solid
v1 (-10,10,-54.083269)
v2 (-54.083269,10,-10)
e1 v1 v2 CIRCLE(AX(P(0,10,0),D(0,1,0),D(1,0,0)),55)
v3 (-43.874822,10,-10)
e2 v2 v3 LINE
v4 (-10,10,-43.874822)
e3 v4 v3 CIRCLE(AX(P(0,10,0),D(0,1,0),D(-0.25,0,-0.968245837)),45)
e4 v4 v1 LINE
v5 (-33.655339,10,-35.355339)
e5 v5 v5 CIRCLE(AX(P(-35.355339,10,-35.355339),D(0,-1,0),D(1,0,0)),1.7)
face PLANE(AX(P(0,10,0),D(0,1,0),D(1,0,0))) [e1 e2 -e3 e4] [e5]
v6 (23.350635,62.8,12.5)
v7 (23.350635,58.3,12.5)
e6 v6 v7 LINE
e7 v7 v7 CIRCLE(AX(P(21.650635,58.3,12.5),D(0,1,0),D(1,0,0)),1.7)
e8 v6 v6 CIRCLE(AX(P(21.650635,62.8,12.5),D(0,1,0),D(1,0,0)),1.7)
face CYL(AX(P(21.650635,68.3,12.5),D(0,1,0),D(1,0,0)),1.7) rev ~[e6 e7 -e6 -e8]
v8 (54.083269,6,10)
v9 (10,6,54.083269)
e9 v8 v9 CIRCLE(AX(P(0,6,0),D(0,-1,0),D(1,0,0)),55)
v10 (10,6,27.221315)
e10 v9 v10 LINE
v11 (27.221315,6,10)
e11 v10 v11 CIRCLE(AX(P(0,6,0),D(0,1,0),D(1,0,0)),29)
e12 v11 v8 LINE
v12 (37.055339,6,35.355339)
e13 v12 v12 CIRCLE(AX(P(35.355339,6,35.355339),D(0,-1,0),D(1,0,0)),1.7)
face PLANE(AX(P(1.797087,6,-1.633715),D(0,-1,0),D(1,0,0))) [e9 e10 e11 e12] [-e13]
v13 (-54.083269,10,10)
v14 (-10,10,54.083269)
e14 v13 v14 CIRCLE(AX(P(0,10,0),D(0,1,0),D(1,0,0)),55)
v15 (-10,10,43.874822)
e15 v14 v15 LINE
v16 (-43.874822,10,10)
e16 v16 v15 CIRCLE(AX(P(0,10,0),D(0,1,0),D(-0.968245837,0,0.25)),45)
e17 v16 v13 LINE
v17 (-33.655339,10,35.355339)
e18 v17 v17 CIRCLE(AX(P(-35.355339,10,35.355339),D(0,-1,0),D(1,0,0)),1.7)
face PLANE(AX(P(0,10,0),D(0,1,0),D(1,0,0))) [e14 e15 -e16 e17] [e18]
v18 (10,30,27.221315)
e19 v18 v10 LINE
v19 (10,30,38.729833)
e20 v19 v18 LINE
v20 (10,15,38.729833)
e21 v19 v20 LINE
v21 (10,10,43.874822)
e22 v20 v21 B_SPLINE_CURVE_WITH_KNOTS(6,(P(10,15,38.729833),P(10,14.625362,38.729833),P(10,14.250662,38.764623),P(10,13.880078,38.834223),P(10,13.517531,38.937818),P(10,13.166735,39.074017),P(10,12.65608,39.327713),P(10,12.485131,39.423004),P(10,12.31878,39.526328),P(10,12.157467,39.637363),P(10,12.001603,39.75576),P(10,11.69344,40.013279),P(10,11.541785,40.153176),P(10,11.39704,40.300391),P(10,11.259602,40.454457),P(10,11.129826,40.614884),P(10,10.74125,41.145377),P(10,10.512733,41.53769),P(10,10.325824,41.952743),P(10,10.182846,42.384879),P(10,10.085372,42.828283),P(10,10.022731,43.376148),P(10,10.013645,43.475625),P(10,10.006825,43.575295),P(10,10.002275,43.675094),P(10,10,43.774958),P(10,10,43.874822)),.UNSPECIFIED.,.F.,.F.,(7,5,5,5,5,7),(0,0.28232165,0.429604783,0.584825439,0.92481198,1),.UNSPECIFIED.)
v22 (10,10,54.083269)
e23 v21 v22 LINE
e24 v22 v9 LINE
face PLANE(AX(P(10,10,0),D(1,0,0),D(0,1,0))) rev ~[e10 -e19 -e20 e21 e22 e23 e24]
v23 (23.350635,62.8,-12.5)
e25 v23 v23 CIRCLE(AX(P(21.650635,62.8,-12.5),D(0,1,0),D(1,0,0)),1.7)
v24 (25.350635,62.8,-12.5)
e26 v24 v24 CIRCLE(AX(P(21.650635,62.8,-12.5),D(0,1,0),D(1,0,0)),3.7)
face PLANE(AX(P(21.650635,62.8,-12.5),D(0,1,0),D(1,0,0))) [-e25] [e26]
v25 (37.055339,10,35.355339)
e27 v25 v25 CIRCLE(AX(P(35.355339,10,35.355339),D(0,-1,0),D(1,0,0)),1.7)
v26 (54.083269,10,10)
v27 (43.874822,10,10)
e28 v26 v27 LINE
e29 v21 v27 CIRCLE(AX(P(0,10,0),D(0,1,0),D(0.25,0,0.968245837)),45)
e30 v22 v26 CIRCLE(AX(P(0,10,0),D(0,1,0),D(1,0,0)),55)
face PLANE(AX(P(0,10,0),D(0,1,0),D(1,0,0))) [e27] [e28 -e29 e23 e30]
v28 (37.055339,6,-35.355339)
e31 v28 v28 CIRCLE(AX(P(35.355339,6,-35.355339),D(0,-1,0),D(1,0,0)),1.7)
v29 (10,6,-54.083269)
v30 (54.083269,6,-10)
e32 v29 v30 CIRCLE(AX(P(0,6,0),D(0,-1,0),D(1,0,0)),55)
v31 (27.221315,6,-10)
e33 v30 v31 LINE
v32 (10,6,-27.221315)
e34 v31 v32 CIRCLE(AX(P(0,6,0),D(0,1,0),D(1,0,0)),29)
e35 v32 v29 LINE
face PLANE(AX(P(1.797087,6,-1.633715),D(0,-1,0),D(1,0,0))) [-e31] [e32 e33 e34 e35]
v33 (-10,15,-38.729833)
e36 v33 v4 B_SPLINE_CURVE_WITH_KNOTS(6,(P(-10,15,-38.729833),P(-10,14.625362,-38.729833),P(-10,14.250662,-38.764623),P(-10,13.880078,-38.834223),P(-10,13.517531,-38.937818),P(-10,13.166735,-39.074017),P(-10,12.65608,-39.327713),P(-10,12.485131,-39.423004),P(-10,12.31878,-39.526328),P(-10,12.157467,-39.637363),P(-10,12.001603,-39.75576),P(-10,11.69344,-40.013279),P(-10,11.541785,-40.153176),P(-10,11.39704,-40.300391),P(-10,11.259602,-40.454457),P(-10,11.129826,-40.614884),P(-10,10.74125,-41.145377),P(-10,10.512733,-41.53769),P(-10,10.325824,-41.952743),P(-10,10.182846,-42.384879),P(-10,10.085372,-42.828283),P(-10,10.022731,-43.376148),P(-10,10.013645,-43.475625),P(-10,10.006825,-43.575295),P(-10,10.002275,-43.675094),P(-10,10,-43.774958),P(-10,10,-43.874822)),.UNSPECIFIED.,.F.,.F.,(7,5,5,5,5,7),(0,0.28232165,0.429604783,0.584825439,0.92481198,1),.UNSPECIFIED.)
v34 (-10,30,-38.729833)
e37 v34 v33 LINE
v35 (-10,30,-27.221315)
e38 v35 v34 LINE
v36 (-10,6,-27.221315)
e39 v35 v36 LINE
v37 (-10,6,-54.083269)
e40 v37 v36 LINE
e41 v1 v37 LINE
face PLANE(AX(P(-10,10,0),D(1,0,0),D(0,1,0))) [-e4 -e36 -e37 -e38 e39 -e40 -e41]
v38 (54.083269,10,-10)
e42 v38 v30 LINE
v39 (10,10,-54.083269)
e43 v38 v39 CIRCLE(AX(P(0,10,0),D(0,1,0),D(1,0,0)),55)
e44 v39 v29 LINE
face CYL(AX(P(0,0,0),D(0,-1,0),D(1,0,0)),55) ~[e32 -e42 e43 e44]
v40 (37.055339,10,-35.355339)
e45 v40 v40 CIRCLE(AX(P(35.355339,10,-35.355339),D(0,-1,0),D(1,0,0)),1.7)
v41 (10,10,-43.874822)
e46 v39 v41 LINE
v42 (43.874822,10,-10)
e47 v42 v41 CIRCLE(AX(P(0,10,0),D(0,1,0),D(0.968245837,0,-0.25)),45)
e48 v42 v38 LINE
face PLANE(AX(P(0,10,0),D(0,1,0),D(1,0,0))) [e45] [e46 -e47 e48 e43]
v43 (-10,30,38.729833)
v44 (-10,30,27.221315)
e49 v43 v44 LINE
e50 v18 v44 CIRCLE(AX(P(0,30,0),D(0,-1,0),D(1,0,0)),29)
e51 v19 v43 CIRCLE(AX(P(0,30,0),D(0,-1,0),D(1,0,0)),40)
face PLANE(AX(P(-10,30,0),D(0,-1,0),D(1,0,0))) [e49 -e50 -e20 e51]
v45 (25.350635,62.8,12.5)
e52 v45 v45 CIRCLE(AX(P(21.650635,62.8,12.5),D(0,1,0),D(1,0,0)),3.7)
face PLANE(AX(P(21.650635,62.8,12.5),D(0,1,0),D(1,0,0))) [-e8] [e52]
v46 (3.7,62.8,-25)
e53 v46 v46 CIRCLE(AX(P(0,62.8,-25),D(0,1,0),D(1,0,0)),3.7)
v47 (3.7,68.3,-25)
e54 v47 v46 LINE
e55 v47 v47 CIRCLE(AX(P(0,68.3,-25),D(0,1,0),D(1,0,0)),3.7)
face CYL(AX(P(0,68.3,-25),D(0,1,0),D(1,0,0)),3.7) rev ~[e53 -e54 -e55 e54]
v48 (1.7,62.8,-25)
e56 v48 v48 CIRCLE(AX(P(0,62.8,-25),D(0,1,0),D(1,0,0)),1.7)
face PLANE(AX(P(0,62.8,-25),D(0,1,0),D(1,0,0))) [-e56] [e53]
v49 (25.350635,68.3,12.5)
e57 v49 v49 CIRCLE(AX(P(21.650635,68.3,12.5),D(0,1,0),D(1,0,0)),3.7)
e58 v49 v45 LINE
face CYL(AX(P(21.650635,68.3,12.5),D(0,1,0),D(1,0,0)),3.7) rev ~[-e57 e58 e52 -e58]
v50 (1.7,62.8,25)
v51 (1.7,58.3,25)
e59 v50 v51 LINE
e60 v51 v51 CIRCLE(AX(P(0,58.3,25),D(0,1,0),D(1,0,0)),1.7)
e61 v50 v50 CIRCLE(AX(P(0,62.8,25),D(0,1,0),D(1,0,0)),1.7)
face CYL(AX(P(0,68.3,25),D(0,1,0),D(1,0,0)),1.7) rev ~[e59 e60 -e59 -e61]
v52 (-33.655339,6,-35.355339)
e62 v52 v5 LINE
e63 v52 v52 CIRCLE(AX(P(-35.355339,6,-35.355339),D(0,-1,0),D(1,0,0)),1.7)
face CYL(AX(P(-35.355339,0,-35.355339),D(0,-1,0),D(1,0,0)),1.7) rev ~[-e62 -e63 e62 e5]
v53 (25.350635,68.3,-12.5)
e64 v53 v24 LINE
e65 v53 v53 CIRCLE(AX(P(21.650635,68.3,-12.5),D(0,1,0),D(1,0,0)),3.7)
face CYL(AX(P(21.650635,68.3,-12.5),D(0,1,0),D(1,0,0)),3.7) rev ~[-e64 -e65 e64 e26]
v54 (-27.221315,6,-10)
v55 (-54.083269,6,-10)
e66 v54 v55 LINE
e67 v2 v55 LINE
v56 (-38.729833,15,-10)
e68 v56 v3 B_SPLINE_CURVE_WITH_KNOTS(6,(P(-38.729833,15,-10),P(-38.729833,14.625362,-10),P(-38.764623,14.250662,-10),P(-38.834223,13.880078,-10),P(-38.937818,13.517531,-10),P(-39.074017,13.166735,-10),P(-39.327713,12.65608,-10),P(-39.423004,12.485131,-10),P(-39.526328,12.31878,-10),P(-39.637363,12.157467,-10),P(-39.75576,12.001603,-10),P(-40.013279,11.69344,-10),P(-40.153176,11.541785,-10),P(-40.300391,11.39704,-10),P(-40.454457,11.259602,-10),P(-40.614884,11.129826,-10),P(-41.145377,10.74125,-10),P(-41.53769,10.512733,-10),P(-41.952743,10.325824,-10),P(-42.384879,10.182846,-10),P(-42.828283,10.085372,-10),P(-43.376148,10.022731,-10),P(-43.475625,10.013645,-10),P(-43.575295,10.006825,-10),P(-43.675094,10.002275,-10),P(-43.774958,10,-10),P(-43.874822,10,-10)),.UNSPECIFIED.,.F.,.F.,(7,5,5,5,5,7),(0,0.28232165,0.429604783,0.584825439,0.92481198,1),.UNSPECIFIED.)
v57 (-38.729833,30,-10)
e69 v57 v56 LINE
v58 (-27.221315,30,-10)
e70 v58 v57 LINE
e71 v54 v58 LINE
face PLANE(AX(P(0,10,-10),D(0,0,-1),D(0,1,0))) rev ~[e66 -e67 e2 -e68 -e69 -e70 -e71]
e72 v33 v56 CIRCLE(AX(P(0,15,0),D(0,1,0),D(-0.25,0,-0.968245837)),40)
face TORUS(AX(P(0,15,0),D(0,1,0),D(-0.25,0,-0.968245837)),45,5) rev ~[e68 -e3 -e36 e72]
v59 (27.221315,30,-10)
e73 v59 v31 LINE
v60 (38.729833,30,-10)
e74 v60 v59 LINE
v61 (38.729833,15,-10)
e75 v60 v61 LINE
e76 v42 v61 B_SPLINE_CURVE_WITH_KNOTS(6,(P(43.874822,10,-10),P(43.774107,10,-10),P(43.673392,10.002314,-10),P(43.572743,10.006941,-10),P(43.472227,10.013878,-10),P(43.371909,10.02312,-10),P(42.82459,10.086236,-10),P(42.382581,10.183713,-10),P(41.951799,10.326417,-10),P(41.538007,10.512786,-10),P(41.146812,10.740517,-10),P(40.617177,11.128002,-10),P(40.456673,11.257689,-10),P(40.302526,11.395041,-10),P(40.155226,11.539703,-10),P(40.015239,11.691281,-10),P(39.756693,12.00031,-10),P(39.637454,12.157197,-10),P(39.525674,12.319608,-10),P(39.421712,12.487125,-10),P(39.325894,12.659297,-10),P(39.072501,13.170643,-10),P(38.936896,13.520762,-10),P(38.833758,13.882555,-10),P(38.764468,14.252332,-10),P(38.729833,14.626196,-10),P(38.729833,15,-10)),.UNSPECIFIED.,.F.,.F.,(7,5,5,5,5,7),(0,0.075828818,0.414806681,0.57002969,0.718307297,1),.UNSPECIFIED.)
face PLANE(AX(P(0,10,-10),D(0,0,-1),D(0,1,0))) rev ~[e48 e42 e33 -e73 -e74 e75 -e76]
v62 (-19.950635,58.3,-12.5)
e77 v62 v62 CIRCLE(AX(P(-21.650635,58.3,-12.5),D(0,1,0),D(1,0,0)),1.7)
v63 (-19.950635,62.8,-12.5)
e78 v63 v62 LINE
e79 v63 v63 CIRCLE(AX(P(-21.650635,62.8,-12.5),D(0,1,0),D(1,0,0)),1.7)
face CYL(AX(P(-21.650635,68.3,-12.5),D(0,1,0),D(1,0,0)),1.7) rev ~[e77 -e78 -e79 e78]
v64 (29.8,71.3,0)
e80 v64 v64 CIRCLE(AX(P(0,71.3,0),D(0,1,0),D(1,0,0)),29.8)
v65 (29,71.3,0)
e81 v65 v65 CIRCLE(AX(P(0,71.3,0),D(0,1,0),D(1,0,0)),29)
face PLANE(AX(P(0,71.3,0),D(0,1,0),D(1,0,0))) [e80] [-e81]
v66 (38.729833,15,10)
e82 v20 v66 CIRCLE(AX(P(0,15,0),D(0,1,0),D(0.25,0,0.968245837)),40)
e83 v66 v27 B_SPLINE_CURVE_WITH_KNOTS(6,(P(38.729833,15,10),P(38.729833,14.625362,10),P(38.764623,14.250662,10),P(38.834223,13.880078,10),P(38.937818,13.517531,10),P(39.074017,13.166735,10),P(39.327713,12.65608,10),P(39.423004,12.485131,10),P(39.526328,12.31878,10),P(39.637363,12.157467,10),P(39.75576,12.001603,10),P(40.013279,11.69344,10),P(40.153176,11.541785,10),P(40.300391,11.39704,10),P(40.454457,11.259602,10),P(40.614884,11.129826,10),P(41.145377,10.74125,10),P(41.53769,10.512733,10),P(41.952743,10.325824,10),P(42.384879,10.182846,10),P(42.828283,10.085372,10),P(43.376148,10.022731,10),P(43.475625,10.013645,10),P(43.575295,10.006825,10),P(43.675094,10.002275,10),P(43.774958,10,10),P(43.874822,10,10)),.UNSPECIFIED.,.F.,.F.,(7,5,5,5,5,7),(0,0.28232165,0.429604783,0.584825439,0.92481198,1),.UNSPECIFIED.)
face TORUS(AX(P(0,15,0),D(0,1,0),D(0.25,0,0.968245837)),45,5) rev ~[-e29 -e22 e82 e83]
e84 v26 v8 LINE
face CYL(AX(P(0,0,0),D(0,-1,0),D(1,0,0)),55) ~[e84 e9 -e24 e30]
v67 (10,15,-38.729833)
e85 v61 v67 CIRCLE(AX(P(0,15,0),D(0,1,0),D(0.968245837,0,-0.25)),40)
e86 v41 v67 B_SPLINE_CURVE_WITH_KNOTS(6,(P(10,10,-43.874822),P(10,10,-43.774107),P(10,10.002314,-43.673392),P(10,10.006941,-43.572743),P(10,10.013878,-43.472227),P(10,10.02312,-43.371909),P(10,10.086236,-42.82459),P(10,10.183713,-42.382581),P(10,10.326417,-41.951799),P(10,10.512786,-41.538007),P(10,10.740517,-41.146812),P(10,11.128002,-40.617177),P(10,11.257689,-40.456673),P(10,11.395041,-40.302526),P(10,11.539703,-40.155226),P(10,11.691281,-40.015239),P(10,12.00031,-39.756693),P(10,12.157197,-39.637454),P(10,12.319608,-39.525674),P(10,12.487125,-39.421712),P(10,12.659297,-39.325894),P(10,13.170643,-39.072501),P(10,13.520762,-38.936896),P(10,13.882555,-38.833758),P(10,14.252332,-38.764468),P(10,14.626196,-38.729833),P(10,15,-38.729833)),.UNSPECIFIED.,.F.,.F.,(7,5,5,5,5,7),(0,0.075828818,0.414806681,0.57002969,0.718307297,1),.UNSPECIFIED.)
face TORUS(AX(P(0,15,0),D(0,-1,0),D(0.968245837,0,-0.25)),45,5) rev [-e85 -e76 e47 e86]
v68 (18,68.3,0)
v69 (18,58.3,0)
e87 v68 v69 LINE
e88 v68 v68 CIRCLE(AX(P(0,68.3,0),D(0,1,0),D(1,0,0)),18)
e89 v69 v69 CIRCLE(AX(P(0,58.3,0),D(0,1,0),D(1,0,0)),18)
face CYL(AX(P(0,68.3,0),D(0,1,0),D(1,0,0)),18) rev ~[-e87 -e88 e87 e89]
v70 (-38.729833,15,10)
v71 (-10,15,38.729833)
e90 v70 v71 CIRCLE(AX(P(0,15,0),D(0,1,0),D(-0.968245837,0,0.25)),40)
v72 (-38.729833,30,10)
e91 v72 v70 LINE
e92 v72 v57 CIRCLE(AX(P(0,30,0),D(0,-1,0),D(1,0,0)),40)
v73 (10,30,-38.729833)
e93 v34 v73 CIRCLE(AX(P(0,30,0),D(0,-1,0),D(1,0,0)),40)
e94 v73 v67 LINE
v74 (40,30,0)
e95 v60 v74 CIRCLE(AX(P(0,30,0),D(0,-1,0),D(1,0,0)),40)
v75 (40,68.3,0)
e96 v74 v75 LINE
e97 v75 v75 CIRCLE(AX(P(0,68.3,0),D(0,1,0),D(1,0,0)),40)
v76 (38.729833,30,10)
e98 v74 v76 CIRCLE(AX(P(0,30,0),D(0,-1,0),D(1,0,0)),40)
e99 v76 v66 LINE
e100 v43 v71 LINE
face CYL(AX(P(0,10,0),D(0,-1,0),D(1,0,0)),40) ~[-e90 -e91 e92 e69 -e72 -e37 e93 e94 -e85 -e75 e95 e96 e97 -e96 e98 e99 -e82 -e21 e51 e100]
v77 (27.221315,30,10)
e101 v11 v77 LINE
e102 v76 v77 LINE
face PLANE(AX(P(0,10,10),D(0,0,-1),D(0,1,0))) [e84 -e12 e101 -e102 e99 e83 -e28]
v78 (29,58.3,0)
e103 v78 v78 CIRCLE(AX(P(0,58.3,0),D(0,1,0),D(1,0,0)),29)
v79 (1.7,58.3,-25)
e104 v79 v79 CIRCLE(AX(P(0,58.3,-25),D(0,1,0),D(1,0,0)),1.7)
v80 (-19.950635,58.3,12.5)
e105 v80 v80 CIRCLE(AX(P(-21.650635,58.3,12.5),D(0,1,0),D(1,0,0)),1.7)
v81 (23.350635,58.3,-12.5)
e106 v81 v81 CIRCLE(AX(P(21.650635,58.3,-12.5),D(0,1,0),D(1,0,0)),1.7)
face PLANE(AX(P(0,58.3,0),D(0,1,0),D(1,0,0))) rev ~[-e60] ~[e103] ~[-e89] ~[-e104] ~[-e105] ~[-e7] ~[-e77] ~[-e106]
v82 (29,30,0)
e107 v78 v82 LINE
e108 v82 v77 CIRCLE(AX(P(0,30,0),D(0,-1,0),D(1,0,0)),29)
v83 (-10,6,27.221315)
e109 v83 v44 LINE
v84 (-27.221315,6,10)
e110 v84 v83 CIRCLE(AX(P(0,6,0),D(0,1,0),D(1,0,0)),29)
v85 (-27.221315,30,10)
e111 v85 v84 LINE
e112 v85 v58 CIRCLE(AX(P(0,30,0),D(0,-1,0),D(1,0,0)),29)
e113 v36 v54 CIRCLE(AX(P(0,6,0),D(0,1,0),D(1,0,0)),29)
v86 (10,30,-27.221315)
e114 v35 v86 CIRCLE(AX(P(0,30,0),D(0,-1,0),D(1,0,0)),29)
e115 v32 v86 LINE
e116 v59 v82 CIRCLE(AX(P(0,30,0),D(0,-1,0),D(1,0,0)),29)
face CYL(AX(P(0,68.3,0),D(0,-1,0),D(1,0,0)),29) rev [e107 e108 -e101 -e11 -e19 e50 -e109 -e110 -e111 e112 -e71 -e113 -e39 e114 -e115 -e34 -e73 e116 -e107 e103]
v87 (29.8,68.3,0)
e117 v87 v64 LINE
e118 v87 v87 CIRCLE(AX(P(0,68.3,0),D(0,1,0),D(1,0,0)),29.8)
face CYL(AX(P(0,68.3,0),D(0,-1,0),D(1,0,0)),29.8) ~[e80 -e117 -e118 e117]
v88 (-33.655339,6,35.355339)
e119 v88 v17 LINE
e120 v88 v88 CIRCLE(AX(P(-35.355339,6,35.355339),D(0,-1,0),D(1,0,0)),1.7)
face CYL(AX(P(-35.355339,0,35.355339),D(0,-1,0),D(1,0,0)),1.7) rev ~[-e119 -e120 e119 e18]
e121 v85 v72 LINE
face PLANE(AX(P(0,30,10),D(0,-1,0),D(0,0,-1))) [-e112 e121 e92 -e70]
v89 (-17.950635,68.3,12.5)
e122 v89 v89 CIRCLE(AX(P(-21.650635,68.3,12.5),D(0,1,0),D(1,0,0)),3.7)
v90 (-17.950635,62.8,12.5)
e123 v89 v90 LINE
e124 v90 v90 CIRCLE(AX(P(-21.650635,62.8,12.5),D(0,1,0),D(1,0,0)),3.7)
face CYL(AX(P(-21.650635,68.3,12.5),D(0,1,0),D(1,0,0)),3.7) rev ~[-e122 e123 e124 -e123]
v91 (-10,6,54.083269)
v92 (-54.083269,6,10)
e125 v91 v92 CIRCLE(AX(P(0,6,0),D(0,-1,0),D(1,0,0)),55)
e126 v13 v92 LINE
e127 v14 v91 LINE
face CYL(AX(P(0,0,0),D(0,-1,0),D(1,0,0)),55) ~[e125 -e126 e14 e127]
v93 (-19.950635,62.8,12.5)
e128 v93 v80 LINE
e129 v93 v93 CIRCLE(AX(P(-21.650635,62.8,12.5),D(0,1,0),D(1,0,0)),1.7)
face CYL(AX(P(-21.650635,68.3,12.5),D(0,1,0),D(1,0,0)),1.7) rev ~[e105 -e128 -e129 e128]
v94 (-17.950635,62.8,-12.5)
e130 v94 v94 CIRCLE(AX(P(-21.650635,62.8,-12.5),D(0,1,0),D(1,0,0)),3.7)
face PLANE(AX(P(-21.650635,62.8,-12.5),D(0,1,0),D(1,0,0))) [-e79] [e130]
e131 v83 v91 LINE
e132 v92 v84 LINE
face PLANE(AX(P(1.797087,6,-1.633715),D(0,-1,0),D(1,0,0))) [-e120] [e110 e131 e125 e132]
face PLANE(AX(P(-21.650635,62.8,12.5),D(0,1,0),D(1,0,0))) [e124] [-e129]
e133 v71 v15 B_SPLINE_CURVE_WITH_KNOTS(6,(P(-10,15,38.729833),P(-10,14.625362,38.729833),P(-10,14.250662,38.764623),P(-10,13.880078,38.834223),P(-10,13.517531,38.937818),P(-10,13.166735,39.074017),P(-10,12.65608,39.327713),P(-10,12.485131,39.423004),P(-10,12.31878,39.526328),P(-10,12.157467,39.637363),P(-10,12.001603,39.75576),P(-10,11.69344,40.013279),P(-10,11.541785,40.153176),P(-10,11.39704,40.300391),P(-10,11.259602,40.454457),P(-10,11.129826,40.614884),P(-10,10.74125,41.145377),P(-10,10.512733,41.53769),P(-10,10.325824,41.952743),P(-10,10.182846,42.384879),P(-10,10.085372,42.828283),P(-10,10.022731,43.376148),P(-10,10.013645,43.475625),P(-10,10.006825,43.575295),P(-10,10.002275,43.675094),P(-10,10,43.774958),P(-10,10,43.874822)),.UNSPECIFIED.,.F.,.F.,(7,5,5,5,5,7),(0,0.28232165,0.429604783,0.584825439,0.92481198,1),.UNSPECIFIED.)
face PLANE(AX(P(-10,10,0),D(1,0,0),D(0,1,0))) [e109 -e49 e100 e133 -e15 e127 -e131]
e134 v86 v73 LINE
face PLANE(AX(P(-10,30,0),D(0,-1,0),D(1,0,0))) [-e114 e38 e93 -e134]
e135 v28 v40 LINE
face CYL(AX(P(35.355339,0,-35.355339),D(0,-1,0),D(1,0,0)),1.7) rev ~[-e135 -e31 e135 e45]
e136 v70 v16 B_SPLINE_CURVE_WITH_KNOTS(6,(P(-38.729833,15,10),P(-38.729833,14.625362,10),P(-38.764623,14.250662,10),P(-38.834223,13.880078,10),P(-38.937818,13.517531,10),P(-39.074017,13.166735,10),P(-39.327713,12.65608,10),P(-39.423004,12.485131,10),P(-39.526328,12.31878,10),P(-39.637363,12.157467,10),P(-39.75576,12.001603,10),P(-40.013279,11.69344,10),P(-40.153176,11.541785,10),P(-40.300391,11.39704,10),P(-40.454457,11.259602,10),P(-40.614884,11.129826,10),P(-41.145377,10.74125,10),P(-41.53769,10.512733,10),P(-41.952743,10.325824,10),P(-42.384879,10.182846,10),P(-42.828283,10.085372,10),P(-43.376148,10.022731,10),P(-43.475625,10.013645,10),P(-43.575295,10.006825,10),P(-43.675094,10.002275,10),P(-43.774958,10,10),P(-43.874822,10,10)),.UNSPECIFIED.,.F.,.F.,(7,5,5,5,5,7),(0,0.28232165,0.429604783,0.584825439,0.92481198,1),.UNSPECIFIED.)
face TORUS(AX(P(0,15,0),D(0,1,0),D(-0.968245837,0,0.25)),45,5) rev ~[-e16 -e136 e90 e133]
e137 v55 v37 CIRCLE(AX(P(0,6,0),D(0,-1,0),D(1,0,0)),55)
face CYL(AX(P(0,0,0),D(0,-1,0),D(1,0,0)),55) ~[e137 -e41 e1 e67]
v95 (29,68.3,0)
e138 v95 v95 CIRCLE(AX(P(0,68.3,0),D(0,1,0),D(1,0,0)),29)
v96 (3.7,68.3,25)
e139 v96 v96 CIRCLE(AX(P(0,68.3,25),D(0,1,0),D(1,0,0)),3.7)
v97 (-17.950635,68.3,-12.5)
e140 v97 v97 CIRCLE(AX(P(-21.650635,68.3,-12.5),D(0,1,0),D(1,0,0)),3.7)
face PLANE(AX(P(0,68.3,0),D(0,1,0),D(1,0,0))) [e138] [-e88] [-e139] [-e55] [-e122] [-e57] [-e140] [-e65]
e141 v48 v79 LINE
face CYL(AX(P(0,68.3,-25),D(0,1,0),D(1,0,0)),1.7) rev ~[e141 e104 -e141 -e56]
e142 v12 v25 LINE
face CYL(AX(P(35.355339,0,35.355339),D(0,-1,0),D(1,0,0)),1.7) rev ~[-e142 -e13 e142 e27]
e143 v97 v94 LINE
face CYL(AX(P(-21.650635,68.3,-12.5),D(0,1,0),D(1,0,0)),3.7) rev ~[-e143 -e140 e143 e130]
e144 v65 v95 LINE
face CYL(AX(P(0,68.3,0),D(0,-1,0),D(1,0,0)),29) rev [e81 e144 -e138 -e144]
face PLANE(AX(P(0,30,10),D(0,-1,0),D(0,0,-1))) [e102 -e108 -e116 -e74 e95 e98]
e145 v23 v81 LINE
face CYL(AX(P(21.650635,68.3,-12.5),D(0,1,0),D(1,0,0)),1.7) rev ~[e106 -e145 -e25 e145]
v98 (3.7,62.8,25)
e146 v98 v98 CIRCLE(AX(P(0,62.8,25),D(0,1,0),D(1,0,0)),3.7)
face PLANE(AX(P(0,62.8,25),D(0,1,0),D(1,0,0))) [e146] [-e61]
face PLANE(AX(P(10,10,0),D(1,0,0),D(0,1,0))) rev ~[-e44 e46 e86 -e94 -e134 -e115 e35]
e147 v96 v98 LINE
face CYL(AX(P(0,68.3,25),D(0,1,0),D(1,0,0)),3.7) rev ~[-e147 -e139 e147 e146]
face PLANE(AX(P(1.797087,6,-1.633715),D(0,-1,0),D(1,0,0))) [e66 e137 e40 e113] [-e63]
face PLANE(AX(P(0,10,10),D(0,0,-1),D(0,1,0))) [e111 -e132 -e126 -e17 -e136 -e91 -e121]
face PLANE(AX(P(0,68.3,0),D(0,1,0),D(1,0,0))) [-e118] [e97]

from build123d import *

# Parameters (mm, degrees)
SKETCH_1_R               = 55
EXTRUDE_1_DEPTH          = 10
SKETCH_2_R               = 40
SKETCH_2_R_2             = 29
EXTRUDE_2_DEPTH          = 58.3
SKETCH_3_R               = 29.8
SKETCH_3_R_2             = 29
EXTRUDE_3_DEPTH          = 3
SKETCH_6_W               = 20
SKETCH_6_H               = 20
CUT_EXTRUDE_3_DEPTH      = 55.5
PATTERN_CIRCULAR_1_COUNT = 4
SKETCH_9_R               = 1.7
CUT_EXTRUDE_6_DEPTH      = 10
SKETCH_10_R              = 29
SKETCH_10_R_2            = 18
EXTRUDE_4_DEPTH          = 10
SKETCH_11_R              = 1.7
CUT_EXTRUDE_7_DEPTH      = 10
SKETCH_12_R              = 29
CUT_EXTRUDE_8_DEPTH      = 10
SKETCH_13_W              = 160.430825531
SKETCH_13_H              = 122.201891545
CUT_EXTRUDE_9_DEPTH      = 6
SKETCH_14_R              = 3.7
CUT_EXTRUDE_10_DEPTH     = 5.5
CUT_EXTRUDE_11_DEPTH     = 5.5
FILLET_1_R               = 5


with BuildPart() as part:
    # 草图1 → 凸台-拉伸1 (new body)
    with BuildSketch(Plane(origin=(0, 0, 0), x_dir=(1, 0, 0), z_dir=(0, 1, 0))):
        Circle(SKETCH_1_R)
    extrude(amount=EXTRUDE_1_DEPTH)

    # 草图2 → 凸台-拉伸2 (add)
    with BuildSketch(Plane(origin=(0, 10, 0), x_dir=(1, 0, 0), z_dir=(0, 1, 0))):
        Circle(SKETCH_2_R)
        Circle(SKETCH_2_R_2, mode=Mode.SUBTRACT)
    extrude(amount=EXTRUDE_2_DEPTH)

    # 草图3 → 凸台-拉伸3 (add)
    with BuildSketch(Plane(origin=(0, 68.3, 0), x_dir=(1, 0, 0), z_dir=(0, 1, 0))):
        Circle(SKETCH_3_R)
        Circle(SKETCH_3_R_2, mode=Mode.SUBTRACT)
    extrude(amount=EXTRUDE_3_DEPTH)

    # 草图6 → 切除-拉伸3 (cut, symmetric)
    with BuildSketch(Plane(origin=(0, 0, 0), x_dir=(0, 0, -1), z_dir=(1, 0, 0))):
        with Locations((0, 20)):
            Rectangle(SKETCH_6_W, SKETCH_6_H)
    cut_extrude_3 = extrude(amount=CUT_EXTRUDE_3_DEPTH, both=True, mode=Mode.SUBTRACT)

    # 阵列(圆周)1: 切除-拉伸3 ×4 about axis
    pattern_circular_1_axis = Axis((0, 68.3, 0), (0, -1, 0))
    for i in range(1, PATTERN_CIRCULAR_1_COUNT):
        add(cut_extrude_3.rotate(pattern_circular_1_axis, i * 360 / PATTERN_CIRCULAR_1_COUNT), mode=Mode.SUBTRACT)

    # 草图9 → 切除-拉伸6 (cut)
    with BuildSketch(Plane.XZ):
        with Locations((50, 0)):
            Circle(SKETCH_9_R)
        with Locations((35.355339059, -35.355339059)):
            Circle(SKETCH_9_R)
        with Locations((0, -50)):
            Circle(SKETCH_9_R)
        with Locations((-35.355339059, -35.355339059)):
            Circle(SKETCH_9_R)
        with Locations((-50, 0)):
            Circle(SKETCH_9_R)
        with Locations((-35.355339059, 35.355339059)):
            Circle(SKETCH_9_R)
        with Locations((0, 50)):
            Circle(SKETCH_9_R)
        with Locations((35.355339059, 35.355339059)):
            Circle(SKETCH_9_R)
    extrude(amount=-CUT_EXTRUDE_6_DEPTH, mode=Mode.SUBTRACT)

    # 草图10 → 凸台-拉伸4 (add)
    with BuildSketch(Plane(origin=(0, 68.3, 0), x_dir=(1, 0, 0), z_dir=(0, 1, 0))):
        Circle(SKETCH_10_R)
        Circle(SKETCH_10_R_2, mode=Mode.SUBTRACT)
    extrude(amount=-EXTRUDE_4_DEPTH)

    # 草图11 → 切除-拉伸7 (cut)
    with BuildSketch(Plane(origin=(0, 68.3, 0), x_dir=(1, 0, 0), z_dir=(0, 1, 0))):
        with Locations((0, -25)):
            Circle(SKETCH_11_R)
        with Locations((-21.650635095, -12.5)):
            Circle(SKETCH_11_R)
        with Locations((-21.650635095, 12.5)):
            Circle(SKETCH_11_R)
        with Locations((0, 25)):
            Circle(SKETCH_11_R)
        with Locations((21.650635095, 12.5)):
            Circle(SKETCH_11_R)
        with Locations((21.650635095, -12.5)):
            Circle(SKETCH_11_R)
    extrude(amount=-CUT_EXTRUDE_7_DEPTH, mode=Mode.SUBTRACT)

    # 草图12 → 切除-拉伸8 (cut)
    with BuildSketch(Plane(origin=(0, 10, 0), x_dir=(1, 0, 0), z_dir=(0, 1, 0))):
        Circle(SKETCH_12_R)
    extrude(amount=-CUT_EXTRUDE_8_DEPTH, mode=Mode.SUBTRACT)

    # 草图13 → 切除-拉伸9 (cut)
    with BuildSketch(Plane.XZ):
        with Locations((1.79708664, -1.633715128)):
            Rectangle(SKETCH_13_W, SKETCH_13_H)
    extrude(amount=-CUT_EXTRUDE_9_DEPTH, mode=Mode.SUBTRACT)

    # 草图14 → 切除-拉伸10 (cut)
    with BuildSketch(Plane(origin=(0, 68.3, 0), x_dir=(1, 0, 0), z_dir=(0, 1, 0))):
        with Locations((21.650635095, 12.5)):
            Circle(SKETCH_14_R)
        with Locations((21.650635095, -12.5)):
            Circle(SKETCH_14_R)
        with Locations((0, -25)):
            Circle(SKETCH_14_R)
        with Locations((-21.650635095, -12.5)):
            Circle(SKETCH_14_R)
        with Locations((-21.650635095, 12.5)):
            Circle(SKETCH_14_R)
        with Locations((0, 25)):
            Circle(SKETCH_14_R)
    extrude(amount=-CUT_EXTRUDE_10_DEPTH, mode=Mode.SUBTRACT)

    # 草图15 → 切除-拉伸11 (cut)
    with BuildSketch(Plane(origin=(0, 10, 0), x_dir=(1, 0, 0), z_dir=(0, 1, 0))):
        Polygon((10, 10), (59.580067328, 10), (59.580067328, -10), (10, -10), (10, -56.748157484), (-10, -56.748157484), (-10, -10), (-60.120716696, -10), (-60.120716696, 10), (-10, 10), (-10, 63.130274599), (10, 63.130274599), align=None)
    extrude(amount=-CUT_EXTRUDE_11_DEPTH, mode=Mode.SUBTRACT)

    # 圆角1
    fillet_1_edges = [part.edges().sort_by_distance(p)[0] for p in [
        (28.284271247, 10, -28.284271247),
        (-28.284271247, 10, 28.284271247),
        (-28.284271247, 10, -28.284271247),
        (28.284271247, 10, 28.284271247),
    ]]
    fillet(fillet_1_edges, radius=FILLET_1_R)


solid = part.part
